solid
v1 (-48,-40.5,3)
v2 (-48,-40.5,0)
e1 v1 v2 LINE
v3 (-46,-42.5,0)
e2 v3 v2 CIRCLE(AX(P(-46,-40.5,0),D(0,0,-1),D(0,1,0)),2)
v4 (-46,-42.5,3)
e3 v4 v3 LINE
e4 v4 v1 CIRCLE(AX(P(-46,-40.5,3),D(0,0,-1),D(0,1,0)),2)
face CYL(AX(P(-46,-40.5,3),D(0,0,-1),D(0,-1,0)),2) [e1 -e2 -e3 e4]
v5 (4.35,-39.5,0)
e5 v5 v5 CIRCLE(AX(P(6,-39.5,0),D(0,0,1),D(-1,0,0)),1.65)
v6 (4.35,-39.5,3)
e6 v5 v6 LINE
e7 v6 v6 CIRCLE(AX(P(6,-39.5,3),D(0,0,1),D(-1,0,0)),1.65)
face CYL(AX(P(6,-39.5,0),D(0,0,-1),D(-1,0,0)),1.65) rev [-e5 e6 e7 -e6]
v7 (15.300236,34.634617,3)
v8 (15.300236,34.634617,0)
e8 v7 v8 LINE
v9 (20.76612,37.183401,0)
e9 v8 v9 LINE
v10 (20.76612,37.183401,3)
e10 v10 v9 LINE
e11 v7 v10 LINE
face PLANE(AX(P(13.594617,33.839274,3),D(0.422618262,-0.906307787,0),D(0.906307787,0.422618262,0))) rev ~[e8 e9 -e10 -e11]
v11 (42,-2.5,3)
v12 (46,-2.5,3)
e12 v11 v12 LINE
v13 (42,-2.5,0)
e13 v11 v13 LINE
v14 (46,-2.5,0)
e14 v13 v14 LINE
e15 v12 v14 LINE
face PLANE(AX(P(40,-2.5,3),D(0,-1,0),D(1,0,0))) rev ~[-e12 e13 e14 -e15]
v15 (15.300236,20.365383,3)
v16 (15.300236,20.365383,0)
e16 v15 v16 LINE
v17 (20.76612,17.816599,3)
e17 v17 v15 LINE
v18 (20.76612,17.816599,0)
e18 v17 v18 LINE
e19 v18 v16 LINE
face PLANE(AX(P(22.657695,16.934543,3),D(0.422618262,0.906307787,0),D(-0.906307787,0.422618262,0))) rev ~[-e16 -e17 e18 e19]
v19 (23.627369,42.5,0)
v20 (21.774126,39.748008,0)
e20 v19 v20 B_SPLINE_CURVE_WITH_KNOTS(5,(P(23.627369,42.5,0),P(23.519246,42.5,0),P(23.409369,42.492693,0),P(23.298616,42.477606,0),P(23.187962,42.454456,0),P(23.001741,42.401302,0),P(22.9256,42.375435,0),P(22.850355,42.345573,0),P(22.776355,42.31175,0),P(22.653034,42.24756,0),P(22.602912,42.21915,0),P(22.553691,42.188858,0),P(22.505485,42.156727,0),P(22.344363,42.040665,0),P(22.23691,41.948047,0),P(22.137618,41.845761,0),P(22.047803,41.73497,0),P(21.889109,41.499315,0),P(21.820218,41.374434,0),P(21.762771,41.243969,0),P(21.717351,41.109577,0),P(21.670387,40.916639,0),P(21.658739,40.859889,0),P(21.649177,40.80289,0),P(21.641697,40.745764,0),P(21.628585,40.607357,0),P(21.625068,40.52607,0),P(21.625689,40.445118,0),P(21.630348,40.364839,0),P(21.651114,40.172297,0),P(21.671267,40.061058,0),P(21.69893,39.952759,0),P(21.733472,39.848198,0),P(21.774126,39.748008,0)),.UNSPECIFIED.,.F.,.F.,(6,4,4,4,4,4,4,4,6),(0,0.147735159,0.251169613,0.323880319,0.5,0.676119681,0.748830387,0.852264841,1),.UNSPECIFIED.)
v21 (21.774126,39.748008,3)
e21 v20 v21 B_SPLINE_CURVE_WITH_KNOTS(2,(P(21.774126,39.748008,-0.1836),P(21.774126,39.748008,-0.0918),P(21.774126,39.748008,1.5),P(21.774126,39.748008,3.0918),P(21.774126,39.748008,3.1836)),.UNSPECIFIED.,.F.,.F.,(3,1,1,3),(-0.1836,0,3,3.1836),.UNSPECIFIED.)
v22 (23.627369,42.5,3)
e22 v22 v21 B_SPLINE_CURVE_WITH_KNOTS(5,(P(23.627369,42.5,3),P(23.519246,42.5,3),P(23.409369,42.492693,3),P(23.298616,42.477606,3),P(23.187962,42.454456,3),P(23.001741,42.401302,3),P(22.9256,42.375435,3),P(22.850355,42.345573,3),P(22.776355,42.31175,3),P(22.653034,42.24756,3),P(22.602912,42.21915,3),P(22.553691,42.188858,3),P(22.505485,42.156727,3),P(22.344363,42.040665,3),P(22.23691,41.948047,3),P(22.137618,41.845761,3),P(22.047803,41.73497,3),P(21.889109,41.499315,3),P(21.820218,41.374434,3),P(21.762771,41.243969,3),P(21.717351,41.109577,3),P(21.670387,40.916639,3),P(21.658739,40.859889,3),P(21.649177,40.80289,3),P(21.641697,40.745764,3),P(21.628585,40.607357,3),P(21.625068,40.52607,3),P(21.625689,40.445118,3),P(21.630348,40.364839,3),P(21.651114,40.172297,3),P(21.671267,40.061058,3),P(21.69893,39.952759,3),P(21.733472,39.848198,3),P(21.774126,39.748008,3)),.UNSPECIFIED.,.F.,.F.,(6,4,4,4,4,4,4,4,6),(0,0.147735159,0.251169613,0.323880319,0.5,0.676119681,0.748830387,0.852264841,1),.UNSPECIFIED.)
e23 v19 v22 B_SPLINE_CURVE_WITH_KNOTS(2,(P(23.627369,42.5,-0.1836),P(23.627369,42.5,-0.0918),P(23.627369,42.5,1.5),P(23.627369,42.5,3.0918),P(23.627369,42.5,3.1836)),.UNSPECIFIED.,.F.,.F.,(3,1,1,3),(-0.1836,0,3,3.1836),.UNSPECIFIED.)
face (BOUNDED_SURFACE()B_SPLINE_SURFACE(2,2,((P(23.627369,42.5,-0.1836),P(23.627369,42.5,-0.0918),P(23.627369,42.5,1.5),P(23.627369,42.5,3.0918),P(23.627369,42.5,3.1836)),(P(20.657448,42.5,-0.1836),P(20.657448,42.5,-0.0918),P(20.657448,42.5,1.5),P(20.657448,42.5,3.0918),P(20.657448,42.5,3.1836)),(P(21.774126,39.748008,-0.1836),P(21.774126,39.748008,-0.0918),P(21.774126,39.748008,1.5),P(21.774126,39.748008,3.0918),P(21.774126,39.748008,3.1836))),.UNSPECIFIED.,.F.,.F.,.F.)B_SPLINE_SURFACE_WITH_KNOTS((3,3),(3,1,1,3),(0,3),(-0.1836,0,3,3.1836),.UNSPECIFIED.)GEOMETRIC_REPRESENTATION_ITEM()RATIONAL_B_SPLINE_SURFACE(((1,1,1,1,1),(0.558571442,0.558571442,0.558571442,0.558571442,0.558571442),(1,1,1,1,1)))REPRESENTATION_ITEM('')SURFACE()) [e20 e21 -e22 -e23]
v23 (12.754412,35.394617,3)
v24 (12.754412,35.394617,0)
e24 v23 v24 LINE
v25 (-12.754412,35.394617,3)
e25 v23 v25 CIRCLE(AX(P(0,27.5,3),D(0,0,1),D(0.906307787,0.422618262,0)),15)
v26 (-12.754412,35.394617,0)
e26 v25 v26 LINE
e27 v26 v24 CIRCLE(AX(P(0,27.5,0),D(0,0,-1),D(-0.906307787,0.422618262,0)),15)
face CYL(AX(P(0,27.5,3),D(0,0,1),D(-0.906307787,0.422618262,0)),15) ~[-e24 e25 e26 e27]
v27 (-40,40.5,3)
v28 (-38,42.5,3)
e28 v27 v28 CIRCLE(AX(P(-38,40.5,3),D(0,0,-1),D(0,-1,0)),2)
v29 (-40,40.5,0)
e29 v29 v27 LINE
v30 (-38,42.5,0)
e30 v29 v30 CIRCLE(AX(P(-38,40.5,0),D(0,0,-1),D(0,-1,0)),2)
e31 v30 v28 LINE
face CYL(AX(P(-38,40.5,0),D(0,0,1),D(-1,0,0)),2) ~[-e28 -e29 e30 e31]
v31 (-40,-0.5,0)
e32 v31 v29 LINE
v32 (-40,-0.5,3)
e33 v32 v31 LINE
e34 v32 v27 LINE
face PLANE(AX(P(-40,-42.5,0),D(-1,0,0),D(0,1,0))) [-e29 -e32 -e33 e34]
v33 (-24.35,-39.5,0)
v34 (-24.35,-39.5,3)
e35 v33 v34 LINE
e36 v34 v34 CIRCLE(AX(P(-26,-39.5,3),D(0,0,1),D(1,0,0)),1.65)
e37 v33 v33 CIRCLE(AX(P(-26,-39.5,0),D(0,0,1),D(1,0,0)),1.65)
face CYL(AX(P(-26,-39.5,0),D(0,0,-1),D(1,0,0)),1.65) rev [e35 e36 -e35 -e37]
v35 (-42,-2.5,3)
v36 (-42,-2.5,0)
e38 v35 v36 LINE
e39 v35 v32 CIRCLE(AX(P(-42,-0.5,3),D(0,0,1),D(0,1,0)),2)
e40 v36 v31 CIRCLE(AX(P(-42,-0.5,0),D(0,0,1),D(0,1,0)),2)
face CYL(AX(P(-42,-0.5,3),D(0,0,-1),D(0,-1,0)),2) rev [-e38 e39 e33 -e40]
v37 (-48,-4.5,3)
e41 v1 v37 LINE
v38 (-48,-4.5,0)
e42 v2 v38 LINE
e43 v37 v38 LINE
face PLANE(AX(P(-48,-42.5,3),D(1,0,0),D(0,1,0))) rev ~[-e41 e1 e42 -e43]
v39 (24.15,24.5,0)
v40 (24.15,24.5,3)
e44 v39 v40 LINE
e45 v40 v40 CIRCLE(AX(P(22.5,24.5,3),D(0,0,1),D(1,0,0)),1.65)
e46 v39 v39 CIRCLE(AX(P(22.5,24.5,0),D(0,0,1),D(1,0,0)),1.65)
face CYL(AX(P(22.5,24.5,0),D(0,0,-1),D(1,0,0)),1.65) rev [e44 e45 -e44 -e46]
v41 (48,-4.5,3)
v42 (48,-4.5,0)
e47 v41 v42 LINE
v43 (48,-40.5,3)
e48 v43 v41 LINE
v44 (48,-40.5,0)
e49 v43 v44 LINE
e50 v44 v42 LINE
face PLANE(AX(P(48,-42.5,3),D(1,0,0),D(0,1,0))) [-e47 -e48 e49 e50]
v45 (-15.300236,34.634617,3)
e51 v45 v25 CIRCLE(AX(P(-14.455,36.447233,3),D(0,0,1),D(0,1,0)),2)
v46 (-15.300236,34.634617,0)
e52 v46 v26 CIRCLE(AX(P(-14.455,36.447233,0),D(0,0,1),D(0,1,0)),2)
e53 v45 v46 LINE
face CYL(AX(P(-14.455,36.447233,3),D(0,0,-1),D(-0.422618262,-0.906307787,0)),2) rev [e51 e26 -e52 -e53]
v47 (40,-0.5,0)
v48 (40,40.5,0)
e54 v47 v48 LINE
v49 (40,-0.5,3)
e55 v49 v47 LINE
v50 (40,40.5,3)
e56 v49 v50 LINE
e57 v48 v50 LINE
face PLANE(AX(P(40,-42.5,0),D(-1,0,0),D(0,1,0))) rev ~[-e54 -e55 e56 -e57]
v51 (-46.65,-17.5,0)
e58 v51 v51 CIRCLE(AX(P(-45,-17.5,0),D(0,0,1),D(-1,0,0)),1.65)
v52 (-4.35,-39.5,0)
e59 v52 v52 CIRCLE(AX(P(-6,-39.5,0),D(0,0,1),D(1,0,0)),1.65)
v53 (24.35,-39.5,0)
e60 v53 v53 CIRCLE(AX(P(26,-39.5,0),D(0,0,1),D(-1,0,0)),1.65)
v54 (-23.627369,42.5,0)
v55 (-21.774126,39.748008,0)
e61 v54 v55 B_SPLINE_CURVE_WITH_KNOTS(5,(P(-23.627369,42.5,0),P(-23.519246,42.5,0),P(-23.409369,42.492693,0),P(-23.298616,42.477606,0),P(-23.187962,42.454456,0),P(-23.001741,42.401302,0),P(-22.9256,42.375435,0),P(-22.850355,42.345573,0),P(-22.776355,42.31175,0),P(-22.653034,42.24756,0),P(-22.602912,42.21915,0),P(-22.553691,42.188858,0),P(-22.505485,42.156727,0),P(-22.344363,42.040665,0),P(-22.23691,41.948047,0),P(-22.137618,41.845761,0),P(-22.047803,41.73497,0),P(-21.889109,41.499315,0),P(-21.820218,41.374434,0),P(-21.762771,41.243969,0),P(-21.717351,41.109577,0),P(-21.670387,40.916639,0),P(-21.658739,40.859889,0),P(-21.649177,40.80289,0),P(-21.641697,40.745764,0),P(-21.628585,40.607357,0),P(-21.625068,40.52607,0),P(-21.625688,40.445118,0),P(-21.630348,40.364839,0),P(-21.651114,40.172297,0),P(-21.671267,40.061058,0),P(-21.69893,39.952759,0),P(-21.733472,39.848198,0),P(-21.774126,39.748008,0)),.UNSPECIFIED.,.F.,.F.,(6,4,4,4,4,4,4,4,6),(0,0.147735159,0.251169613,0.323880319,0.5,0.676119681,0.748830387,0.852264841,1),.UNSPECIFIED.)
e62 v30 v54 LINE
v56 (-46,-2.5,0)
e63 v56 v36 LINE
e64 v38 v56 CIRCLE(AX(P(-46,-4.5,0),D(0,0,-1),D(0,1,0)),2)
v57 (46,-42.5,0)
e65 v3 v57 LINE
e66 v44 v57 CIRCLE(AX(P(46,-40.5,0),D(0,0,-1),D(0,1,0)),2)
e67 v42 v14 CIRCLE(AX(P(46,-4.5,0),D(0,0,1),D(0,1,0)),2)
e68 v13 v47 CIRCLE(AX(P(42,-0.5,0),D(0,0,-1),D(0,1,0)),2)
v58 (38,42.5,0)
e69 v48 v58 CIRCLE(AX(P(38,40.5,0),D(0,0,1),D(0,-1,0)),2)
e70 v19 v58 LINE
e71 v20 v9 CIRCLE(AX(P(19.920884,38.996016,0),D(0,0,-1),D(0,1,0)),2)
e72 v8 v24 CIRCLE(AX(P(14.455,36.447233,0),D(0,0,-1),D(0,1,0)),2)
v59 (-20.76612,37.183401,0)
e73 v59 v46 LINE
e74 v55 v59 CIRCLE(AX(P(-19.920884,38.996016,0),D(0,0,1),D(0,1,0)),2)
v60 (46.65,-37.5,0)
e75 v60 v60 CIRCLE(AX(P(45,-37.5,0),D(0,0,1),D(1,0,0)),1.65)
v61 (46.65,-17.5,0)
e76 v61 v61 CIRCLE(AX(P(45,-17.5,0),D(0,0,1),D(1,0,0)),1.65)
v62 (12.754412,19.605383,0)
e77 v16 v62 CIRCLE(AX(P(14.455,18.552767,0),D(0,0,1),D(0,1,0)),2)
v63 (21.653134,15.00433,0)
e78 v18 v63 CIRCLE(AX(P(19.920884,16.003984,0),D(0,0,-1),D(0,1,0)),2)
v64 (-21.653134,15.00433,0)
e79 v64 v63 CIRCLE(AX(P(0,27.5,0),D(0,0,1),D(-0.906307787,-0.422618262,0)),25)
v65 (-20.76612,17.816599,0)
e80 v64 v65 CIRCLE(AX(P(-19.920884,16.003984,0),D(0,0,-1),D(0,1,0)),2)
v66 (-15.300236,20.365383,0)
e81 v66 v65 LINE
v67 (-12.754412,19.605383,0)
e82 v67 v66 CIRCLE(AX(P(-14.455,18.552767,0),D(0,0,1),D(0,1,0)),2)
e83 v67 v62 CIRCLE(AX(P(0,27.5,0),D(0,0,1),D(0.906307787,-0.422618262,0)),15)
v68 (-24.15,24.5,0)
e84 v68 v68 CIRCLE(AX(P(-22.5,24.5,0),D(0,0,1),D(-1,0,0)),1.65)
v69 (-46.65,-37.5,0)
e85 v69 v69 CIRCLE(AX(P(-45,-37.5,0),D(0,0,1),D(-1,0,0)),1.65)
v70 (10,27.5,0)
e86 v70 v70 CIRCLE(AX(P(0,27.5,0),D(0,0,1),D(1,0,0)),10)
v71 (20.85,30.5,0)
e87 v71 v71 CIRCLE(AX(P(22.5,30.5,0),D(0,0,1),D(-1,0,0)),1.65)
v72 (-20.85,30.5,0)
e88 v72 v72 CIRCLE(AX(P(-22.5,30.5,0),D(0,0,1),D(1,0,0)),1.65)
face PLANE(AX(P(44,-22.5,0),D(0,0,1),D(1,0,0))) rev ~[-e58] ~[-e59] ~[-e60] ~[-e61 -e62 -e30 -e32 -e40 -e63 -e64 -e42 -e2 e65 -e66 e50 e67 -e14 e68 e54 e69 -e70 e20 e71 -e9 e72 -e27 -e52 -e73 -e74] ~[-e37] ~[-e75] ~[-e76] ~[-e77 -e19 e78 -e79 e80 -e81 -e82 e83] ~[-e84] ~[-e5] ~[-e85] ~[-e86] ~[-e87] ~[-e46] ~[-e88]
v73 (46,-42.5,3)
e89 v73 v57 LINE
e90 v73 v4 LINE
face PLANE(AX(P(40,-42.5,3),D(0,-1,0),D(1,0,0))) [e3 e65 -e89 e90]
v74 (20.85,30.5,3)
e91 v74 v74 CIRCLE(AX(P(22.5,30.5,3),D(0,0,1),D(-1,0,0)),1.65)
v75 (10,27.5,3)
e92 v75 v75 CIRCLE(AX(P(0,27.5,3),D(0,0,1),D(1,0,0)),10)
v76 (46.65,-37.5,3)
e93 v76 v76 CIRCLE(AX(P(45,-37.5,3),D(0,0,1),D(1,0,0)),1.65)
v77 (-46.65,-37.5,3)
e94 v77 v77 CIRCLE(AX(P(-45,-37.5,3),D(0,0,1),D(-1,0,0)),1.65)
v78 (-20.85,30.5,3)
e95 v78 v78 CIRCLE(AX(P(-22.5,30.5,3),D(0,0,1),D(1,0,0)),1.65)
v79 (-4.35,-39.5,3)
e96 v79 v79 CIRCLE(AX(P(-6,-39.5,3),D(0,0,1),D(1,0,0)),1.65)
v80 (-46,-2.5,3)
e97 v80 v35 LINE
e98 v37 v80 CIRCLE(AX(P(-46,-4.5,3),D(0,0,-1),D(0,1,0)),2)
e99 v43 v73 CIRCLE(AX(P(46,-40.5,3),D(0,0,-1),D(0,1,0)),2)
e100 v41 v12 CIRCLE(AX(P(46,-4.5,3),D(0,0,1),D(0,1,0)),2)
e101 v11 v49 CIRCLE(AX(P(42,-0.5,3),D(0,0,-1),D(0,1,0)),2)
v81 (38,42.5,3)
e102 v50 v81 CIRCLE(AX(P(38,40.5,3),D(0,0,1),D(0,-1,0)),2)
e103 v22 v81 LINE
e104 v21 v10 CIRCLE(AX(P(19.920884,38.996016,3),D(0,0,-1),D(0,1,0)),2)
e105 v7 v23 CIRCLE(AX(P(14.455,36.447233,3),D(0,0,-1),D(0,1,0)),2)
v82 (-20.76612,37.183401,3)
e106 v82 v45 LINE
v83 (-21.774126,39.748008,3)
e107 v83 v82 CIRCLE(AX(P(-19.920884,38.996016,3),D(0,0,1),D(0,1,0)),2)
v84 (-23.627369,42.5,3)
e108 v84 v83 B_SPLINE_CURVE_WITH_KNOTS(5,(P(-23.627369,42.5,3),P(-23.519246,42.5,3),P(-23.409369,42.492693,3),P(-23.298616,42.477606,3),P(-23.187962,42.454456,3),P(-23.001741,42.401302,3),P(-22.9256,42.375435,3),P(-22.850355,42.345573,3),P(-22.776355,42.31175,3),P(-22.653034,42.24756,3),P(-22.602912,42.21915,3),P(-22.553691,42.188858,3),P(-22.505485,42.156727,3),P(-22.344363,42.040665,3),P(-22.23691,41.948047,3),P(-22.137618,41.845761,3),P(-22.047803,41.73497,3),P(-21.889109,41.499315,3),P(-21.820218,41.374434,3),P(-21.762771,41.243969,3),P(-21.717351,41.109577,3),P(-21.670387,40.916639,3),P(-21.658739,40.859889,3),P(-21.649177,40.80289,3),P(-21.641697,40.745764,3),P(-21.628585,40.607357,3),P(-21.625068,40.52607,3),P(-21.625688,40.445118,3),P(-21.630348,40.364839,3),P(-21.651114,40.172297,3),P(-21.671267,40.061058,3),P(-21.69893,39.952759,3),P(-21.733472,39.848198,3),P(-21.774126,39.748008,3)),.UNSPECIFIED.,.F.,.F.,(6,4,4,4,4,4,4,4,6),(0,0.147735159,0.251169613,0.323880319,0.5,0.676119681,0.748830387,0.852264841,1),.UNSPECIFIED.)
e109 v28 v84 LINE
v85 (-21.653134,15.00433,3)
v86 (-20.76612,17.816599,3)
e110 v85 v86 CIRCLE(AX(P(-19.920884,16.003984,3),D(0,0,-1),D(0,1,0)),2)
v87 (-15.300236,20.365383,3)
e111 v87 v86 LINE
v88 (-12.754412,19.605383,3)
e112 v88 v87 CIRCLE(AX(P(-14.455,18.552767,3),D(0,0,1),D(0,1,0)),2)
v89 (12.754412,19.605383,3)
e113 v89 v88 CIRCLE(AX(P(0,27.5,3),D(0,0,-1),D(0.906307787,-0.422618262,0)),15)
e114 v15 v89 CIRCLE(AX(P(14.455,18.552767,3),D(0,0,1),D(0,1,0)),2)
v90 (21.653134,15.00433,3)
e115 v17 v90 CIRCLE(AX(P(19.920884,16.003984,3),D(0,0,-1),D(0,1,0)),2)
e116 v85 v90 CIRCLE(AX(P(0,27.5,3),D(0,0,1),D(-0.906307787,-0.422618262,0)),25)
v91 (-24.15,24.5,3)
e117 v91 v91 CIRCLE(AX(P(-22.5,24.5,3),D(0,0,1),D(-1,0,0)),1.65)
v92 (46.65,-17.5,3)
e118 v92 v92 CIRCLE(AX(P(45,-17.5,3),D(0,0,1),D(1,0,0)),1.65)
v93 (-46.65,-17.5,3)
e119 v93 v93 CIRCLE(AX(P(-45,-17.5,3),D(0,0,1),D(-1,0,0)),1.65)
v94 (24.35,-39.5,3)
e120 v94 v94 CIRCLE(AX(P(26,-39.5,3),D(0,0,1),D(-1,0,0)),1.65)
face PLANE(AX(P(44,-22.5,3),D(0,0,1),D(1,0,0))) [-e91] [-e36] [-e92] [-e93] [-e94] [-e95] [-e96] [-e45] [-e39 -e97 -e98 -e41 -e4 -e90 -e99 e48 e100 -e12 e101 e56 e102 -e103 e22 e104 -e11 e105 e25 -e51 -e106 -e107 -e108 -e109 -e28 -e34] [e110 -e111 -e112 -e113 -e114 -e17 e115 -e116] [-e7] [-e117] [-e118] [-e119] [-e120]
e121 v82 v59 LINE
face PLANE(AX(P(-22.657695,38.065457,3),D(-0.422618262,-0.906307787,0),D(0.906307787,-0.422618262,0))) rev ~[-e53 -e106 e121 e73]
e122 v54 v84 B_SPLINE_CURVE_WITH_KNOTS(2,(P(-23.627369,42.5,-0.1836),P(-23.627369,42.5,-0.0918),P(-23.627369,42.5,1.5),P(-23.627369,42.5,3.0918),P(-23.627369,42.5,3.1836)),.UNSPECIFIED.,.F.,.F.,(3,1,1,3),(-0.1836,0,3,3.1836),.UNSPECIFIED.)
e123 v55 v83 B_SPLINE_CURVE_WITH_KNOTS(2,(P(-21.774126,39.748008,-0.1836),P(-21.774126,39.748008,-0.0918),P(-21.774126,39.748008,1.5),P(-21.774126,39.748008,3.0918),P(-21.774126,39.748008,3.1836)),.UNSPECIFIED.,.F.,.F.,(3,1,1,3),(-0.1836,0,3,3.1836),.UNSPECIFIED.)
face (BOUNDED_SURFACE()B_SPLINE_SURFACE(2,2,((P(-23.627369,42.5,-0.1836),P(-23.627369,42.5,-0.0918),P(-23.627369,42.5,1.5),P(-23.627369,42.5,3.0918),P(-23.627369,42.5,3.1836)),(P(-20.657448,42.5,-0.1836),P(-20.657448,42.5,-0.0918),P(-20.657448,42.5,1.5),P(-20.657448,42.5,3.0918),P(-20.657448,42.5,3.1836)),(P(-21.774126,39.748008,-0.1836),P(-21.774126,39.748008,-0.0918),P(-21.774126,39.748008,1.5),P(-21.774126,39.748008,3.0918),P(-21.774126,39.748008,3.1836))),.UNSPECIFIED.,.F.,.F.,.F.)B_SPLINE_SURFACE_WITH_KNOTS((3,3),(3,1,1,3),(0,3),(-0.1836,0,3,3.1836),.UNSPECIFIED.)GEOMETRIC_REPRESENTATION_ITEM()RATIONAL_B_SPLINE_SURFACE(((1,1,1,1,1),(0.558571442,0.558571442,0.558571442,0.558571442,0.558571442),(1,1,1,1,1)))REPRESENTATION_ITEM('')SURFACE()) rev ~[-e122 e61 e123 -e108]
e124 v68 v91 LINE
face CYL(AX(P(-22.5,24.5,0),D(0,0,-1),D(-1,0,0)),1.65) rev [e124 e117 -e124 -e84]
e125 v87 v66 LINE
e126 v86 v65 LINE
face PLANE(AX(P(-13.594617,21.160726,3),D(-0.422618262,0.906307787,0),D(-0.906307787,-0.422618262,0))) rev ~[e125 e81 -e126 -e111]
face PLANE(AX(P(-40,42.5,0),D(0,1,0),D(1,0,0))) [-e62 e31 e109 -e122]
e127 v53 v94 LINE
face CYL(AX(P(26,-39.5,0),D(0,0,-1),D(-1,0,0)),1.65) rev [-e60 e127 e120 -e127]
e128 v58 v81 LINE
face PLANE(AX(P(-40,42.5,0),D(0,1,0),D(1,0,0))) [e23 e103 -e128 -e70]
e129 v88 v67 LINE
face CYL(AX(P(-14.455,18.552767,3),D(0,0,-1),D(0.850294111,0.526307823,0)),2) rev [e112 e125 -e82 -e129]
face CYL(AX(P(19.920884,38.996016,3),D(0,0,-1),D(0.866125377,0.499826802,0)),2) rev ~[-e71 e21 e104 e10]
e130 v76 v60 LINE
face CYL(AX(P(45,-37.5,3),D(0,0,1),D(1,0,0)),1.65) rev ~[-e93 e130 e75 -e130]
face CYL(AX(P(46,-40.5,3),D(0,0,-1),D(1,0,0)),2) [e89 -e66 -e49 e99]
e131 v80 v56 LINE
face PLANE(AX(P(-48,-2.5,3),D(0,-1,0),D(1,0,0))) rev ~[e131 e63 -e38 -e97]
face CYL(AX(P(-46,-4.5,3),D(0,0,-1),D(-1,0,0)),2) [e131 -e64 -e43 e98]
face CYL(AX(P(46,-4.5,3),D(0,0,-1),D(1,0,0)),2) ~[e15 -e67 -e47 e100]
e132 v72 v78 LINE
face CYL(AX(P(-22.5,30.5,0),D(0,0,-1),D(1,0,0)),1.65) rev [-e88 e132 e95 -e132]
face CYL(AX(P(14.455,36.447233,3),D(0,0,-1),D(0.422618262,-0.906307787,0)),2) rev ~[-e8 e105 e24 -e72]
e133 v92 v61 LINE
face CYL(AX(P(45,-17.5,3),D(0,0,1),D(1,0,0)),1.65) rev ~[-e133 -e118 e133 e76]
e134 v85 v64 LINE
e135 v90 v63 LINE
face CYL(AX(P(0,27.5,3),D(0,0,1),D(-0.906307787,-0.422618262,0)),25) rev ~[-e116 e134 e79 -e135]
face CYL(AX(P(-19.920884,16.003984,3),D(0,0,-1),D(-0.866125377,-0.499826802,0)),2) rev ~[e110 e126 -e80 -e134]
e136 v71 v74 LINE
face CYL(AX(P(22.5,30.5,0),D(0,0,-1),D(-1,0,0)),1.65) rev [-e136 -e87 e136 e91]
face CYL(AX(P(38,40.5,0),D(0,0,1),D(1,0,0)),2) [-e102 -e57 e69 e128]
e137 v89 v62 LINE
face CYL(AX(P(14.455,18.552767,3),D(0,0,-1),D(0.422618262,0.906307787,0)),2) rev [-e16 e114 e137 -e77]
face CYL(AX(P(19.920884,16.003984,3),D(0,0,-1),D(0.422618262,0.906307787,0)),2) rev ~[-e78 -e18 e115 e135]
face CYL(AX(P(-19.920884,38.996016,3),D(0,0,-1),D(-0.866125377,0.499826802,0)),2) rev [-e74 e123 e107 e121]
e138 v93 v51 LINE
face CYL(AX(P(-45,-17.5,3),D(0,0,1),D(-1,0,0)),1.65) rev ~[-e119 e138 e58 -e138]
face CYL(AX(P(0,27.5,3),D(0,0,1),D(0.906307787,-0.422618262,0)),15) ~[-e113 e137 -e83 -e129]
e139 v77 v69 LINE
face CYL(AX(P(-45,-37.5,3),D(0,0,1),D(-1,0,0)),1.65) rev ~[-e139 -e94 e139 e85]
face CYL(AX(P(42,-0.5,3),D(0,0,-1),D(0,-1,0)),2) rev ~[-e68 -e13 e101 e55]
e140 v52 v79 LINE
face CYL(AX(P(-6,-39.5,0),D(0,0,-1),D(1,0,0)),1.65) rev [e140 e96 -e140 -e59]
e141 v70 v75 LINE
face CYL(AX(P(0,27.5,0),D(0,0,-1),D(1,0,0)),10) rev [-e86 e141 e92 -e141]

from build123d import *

# Parameters (mm, degrees)
SKETCH_1_W          = 80
SKETCH_1_H          = 85
SKETCH_1_R          = 10
SKETCH_1_R_2        = 1.65
EXTRUDE_1_DEPTH     = 3
CUT_EXTRUDE_1_DEPTH = 59.440140315
SKETCH_3_W          = 8
SKETCH_3_H          = 40
EXTRUDE_2_DEPTH     = 3
SKETCH_4_R          = 1.65
CUT_EXTRUDE_2_DEPTH = 65.181383594
FILLET_1_R          = 2
FILLET_2_R          = 2


with BuildPart() as part:
    # 草图1 → 凸台-拉伸1 (new body)
    with BuildSketch(Plane.XY):
        Rectangle(SKETCH_1_W, SKETCH_1_H)
        with Locations((0, 27.5)):
            Circle(SKETCH_1_R, mode=Mode.SUBTRACT)
        with Locations((-6, -39.5)):
            Circle(SKETCH_1_R_2, mode=Mode.SUBTRACT)
        with Locations((-26, -39.5)):
            Circle(SKETCH_1_R_2, mode=Mode.SUBTRACT)
        with Locations(Location((26, -39.5, 0), (0, 0, 180))):
            Circle(SKETCH_1_R_2, mode=Mode.SUBTRACT)
        with Locations(Location((6, -39.5, 0), (0, 0, 180))):
            Circle(SKETCH_1_R_2, mode=Mode.SUBTRACT)
        with Locations((-22.5, 30.5)):
            Circle(SKETCH_1_R_2, mode=Mode.SUBTRACT)
        with Locations(Location((-22.5, 24.5, 0), (0, 0, 180))):
            Circle(SKETCH_1_R_2, mode=Mode.SUBTRACT)
        with Locations(Location((22.5, 30.5, 0), (0, 0, 180))):
            Circle(SKETCH_1_R_2, mode=Mode.SUBTRACT)
        with Locations((22.5, 24.5)):
            Circle(SKETCH_1_R_2, mode=Mode.SUBTRACT)
    extrude(amount=EXTRUDE_1_DEPTH)

    # 草图2 → 切除-拉伸1 (cut, through all)
    with BuildSketch(Plane.XY.offset(3)):
        with BuildLine():
            Line((22.657694676, 16.934543456), (13.594616806, 21.160726074))
            ThreePointArc((13.594616806, 21.160726074), (0, 12.5), (-13.594616806, 21.160726074))
            Line((-13.594616806, 21.160726074), (-22.657694676, 16.934543456))
            ThreePointArc((-22.657694676, 16.934543456), (0, 2.5), (22.657694676, 16.934543456))
        make_face()
        with BuildLine():
            Line((-22.657694676, 38.065456544), (-13.594616806, 33.839273926))
            ThreePointArc((-13.594616806, 33.839273926), (0, 42.5), (13.594616806, 33.839273926))
            Line((13.594616806, 33.839273926), (22.657694676, 38.065456544))
            ThreePointArc((22.657694676, 38.065456544), (0, 52.5), (-22.657694676, 38.065456544))
        make_face()
    extrude(amount=-CUT_EXTRUDE_1_DEPTH, mode=Mode.SUBTRACT)

    # 草图3 → 凸台-拉伸2 (add)
    with BuildSketch(Plane.XY.offset(3)):
        with Locations((44, -22.5)):
            Rectangle(SKETCH_3_W, SKETCH_3_H)
        with Locations((-44, -22.5)):
            Rectangle(SKETCH_3_W, SKETCH_3_H)
    extrude(amount=-EXTRUDE_2_DEPTH)

    # 草图4 → 切除-拉伸2 (cut, through all)
    with BuildSketch(Plane.XY.offset(3)):
        with Locations((45, -37.5)):
            Circle(SKETCH_4_R)
        with Locations((45, -17.5)):
            Circle(SKETCH_4_R)
        with Locations(Location((-45, -17.5, 0), (0, 0, 180))):
            Circle(SKETCH_4_R)
        with Locations(Location((-45, -37.5, 0), (0, 0, 180))):
            Circle(SKETCH_4_R)
    extrude(amount=-CUT_EXTRUDE_2_DEPTH, mode=Mode.SUBTRACT)

    # 圆角1
    fillet_1_edges = [part.edges().sort_by_distance(p)[0] for p in [
        (-48, -2.5, 1.5),
        (-13.594616806, 21.160726074, 1.5),
        (13.594616806, 21.160726074, 1.5),
        (22.657694676, 16.934543456, 1.5),
        (-22.657694676, 16.934543456, 1.5),
        (-22.657694676, 38.065456544, 1.5),
        (13.594616806, 33.839273926, 1.5),
        (22.657694676, 38.065456544, 1.5),
        (-13.594616806, 33.839273926, 1.5),
        (-40, 42.5, 1.5),
        (40, -2.5, 1.5),
        (48, -2.5, 1.5),
    ]]
    fillet(fillet_1_edges, radius=FILLET_1_R)

    # 圆角2
    fillet_2_edges = [part.edges().sort_by_distance(p)[0] for p in [
        (20, 42.5, 1.5),
        (-20, 42.5, 1.5),
        (40, 42.5, 1.5),
        (-48, -42.5, 1.5),
        (48, -42.5, 1.5),
        (-40, -2.5, 1.5),
    ]]
    fillet(fillet_2_edges, radius=FILLET_2_R)


solid = part.part
